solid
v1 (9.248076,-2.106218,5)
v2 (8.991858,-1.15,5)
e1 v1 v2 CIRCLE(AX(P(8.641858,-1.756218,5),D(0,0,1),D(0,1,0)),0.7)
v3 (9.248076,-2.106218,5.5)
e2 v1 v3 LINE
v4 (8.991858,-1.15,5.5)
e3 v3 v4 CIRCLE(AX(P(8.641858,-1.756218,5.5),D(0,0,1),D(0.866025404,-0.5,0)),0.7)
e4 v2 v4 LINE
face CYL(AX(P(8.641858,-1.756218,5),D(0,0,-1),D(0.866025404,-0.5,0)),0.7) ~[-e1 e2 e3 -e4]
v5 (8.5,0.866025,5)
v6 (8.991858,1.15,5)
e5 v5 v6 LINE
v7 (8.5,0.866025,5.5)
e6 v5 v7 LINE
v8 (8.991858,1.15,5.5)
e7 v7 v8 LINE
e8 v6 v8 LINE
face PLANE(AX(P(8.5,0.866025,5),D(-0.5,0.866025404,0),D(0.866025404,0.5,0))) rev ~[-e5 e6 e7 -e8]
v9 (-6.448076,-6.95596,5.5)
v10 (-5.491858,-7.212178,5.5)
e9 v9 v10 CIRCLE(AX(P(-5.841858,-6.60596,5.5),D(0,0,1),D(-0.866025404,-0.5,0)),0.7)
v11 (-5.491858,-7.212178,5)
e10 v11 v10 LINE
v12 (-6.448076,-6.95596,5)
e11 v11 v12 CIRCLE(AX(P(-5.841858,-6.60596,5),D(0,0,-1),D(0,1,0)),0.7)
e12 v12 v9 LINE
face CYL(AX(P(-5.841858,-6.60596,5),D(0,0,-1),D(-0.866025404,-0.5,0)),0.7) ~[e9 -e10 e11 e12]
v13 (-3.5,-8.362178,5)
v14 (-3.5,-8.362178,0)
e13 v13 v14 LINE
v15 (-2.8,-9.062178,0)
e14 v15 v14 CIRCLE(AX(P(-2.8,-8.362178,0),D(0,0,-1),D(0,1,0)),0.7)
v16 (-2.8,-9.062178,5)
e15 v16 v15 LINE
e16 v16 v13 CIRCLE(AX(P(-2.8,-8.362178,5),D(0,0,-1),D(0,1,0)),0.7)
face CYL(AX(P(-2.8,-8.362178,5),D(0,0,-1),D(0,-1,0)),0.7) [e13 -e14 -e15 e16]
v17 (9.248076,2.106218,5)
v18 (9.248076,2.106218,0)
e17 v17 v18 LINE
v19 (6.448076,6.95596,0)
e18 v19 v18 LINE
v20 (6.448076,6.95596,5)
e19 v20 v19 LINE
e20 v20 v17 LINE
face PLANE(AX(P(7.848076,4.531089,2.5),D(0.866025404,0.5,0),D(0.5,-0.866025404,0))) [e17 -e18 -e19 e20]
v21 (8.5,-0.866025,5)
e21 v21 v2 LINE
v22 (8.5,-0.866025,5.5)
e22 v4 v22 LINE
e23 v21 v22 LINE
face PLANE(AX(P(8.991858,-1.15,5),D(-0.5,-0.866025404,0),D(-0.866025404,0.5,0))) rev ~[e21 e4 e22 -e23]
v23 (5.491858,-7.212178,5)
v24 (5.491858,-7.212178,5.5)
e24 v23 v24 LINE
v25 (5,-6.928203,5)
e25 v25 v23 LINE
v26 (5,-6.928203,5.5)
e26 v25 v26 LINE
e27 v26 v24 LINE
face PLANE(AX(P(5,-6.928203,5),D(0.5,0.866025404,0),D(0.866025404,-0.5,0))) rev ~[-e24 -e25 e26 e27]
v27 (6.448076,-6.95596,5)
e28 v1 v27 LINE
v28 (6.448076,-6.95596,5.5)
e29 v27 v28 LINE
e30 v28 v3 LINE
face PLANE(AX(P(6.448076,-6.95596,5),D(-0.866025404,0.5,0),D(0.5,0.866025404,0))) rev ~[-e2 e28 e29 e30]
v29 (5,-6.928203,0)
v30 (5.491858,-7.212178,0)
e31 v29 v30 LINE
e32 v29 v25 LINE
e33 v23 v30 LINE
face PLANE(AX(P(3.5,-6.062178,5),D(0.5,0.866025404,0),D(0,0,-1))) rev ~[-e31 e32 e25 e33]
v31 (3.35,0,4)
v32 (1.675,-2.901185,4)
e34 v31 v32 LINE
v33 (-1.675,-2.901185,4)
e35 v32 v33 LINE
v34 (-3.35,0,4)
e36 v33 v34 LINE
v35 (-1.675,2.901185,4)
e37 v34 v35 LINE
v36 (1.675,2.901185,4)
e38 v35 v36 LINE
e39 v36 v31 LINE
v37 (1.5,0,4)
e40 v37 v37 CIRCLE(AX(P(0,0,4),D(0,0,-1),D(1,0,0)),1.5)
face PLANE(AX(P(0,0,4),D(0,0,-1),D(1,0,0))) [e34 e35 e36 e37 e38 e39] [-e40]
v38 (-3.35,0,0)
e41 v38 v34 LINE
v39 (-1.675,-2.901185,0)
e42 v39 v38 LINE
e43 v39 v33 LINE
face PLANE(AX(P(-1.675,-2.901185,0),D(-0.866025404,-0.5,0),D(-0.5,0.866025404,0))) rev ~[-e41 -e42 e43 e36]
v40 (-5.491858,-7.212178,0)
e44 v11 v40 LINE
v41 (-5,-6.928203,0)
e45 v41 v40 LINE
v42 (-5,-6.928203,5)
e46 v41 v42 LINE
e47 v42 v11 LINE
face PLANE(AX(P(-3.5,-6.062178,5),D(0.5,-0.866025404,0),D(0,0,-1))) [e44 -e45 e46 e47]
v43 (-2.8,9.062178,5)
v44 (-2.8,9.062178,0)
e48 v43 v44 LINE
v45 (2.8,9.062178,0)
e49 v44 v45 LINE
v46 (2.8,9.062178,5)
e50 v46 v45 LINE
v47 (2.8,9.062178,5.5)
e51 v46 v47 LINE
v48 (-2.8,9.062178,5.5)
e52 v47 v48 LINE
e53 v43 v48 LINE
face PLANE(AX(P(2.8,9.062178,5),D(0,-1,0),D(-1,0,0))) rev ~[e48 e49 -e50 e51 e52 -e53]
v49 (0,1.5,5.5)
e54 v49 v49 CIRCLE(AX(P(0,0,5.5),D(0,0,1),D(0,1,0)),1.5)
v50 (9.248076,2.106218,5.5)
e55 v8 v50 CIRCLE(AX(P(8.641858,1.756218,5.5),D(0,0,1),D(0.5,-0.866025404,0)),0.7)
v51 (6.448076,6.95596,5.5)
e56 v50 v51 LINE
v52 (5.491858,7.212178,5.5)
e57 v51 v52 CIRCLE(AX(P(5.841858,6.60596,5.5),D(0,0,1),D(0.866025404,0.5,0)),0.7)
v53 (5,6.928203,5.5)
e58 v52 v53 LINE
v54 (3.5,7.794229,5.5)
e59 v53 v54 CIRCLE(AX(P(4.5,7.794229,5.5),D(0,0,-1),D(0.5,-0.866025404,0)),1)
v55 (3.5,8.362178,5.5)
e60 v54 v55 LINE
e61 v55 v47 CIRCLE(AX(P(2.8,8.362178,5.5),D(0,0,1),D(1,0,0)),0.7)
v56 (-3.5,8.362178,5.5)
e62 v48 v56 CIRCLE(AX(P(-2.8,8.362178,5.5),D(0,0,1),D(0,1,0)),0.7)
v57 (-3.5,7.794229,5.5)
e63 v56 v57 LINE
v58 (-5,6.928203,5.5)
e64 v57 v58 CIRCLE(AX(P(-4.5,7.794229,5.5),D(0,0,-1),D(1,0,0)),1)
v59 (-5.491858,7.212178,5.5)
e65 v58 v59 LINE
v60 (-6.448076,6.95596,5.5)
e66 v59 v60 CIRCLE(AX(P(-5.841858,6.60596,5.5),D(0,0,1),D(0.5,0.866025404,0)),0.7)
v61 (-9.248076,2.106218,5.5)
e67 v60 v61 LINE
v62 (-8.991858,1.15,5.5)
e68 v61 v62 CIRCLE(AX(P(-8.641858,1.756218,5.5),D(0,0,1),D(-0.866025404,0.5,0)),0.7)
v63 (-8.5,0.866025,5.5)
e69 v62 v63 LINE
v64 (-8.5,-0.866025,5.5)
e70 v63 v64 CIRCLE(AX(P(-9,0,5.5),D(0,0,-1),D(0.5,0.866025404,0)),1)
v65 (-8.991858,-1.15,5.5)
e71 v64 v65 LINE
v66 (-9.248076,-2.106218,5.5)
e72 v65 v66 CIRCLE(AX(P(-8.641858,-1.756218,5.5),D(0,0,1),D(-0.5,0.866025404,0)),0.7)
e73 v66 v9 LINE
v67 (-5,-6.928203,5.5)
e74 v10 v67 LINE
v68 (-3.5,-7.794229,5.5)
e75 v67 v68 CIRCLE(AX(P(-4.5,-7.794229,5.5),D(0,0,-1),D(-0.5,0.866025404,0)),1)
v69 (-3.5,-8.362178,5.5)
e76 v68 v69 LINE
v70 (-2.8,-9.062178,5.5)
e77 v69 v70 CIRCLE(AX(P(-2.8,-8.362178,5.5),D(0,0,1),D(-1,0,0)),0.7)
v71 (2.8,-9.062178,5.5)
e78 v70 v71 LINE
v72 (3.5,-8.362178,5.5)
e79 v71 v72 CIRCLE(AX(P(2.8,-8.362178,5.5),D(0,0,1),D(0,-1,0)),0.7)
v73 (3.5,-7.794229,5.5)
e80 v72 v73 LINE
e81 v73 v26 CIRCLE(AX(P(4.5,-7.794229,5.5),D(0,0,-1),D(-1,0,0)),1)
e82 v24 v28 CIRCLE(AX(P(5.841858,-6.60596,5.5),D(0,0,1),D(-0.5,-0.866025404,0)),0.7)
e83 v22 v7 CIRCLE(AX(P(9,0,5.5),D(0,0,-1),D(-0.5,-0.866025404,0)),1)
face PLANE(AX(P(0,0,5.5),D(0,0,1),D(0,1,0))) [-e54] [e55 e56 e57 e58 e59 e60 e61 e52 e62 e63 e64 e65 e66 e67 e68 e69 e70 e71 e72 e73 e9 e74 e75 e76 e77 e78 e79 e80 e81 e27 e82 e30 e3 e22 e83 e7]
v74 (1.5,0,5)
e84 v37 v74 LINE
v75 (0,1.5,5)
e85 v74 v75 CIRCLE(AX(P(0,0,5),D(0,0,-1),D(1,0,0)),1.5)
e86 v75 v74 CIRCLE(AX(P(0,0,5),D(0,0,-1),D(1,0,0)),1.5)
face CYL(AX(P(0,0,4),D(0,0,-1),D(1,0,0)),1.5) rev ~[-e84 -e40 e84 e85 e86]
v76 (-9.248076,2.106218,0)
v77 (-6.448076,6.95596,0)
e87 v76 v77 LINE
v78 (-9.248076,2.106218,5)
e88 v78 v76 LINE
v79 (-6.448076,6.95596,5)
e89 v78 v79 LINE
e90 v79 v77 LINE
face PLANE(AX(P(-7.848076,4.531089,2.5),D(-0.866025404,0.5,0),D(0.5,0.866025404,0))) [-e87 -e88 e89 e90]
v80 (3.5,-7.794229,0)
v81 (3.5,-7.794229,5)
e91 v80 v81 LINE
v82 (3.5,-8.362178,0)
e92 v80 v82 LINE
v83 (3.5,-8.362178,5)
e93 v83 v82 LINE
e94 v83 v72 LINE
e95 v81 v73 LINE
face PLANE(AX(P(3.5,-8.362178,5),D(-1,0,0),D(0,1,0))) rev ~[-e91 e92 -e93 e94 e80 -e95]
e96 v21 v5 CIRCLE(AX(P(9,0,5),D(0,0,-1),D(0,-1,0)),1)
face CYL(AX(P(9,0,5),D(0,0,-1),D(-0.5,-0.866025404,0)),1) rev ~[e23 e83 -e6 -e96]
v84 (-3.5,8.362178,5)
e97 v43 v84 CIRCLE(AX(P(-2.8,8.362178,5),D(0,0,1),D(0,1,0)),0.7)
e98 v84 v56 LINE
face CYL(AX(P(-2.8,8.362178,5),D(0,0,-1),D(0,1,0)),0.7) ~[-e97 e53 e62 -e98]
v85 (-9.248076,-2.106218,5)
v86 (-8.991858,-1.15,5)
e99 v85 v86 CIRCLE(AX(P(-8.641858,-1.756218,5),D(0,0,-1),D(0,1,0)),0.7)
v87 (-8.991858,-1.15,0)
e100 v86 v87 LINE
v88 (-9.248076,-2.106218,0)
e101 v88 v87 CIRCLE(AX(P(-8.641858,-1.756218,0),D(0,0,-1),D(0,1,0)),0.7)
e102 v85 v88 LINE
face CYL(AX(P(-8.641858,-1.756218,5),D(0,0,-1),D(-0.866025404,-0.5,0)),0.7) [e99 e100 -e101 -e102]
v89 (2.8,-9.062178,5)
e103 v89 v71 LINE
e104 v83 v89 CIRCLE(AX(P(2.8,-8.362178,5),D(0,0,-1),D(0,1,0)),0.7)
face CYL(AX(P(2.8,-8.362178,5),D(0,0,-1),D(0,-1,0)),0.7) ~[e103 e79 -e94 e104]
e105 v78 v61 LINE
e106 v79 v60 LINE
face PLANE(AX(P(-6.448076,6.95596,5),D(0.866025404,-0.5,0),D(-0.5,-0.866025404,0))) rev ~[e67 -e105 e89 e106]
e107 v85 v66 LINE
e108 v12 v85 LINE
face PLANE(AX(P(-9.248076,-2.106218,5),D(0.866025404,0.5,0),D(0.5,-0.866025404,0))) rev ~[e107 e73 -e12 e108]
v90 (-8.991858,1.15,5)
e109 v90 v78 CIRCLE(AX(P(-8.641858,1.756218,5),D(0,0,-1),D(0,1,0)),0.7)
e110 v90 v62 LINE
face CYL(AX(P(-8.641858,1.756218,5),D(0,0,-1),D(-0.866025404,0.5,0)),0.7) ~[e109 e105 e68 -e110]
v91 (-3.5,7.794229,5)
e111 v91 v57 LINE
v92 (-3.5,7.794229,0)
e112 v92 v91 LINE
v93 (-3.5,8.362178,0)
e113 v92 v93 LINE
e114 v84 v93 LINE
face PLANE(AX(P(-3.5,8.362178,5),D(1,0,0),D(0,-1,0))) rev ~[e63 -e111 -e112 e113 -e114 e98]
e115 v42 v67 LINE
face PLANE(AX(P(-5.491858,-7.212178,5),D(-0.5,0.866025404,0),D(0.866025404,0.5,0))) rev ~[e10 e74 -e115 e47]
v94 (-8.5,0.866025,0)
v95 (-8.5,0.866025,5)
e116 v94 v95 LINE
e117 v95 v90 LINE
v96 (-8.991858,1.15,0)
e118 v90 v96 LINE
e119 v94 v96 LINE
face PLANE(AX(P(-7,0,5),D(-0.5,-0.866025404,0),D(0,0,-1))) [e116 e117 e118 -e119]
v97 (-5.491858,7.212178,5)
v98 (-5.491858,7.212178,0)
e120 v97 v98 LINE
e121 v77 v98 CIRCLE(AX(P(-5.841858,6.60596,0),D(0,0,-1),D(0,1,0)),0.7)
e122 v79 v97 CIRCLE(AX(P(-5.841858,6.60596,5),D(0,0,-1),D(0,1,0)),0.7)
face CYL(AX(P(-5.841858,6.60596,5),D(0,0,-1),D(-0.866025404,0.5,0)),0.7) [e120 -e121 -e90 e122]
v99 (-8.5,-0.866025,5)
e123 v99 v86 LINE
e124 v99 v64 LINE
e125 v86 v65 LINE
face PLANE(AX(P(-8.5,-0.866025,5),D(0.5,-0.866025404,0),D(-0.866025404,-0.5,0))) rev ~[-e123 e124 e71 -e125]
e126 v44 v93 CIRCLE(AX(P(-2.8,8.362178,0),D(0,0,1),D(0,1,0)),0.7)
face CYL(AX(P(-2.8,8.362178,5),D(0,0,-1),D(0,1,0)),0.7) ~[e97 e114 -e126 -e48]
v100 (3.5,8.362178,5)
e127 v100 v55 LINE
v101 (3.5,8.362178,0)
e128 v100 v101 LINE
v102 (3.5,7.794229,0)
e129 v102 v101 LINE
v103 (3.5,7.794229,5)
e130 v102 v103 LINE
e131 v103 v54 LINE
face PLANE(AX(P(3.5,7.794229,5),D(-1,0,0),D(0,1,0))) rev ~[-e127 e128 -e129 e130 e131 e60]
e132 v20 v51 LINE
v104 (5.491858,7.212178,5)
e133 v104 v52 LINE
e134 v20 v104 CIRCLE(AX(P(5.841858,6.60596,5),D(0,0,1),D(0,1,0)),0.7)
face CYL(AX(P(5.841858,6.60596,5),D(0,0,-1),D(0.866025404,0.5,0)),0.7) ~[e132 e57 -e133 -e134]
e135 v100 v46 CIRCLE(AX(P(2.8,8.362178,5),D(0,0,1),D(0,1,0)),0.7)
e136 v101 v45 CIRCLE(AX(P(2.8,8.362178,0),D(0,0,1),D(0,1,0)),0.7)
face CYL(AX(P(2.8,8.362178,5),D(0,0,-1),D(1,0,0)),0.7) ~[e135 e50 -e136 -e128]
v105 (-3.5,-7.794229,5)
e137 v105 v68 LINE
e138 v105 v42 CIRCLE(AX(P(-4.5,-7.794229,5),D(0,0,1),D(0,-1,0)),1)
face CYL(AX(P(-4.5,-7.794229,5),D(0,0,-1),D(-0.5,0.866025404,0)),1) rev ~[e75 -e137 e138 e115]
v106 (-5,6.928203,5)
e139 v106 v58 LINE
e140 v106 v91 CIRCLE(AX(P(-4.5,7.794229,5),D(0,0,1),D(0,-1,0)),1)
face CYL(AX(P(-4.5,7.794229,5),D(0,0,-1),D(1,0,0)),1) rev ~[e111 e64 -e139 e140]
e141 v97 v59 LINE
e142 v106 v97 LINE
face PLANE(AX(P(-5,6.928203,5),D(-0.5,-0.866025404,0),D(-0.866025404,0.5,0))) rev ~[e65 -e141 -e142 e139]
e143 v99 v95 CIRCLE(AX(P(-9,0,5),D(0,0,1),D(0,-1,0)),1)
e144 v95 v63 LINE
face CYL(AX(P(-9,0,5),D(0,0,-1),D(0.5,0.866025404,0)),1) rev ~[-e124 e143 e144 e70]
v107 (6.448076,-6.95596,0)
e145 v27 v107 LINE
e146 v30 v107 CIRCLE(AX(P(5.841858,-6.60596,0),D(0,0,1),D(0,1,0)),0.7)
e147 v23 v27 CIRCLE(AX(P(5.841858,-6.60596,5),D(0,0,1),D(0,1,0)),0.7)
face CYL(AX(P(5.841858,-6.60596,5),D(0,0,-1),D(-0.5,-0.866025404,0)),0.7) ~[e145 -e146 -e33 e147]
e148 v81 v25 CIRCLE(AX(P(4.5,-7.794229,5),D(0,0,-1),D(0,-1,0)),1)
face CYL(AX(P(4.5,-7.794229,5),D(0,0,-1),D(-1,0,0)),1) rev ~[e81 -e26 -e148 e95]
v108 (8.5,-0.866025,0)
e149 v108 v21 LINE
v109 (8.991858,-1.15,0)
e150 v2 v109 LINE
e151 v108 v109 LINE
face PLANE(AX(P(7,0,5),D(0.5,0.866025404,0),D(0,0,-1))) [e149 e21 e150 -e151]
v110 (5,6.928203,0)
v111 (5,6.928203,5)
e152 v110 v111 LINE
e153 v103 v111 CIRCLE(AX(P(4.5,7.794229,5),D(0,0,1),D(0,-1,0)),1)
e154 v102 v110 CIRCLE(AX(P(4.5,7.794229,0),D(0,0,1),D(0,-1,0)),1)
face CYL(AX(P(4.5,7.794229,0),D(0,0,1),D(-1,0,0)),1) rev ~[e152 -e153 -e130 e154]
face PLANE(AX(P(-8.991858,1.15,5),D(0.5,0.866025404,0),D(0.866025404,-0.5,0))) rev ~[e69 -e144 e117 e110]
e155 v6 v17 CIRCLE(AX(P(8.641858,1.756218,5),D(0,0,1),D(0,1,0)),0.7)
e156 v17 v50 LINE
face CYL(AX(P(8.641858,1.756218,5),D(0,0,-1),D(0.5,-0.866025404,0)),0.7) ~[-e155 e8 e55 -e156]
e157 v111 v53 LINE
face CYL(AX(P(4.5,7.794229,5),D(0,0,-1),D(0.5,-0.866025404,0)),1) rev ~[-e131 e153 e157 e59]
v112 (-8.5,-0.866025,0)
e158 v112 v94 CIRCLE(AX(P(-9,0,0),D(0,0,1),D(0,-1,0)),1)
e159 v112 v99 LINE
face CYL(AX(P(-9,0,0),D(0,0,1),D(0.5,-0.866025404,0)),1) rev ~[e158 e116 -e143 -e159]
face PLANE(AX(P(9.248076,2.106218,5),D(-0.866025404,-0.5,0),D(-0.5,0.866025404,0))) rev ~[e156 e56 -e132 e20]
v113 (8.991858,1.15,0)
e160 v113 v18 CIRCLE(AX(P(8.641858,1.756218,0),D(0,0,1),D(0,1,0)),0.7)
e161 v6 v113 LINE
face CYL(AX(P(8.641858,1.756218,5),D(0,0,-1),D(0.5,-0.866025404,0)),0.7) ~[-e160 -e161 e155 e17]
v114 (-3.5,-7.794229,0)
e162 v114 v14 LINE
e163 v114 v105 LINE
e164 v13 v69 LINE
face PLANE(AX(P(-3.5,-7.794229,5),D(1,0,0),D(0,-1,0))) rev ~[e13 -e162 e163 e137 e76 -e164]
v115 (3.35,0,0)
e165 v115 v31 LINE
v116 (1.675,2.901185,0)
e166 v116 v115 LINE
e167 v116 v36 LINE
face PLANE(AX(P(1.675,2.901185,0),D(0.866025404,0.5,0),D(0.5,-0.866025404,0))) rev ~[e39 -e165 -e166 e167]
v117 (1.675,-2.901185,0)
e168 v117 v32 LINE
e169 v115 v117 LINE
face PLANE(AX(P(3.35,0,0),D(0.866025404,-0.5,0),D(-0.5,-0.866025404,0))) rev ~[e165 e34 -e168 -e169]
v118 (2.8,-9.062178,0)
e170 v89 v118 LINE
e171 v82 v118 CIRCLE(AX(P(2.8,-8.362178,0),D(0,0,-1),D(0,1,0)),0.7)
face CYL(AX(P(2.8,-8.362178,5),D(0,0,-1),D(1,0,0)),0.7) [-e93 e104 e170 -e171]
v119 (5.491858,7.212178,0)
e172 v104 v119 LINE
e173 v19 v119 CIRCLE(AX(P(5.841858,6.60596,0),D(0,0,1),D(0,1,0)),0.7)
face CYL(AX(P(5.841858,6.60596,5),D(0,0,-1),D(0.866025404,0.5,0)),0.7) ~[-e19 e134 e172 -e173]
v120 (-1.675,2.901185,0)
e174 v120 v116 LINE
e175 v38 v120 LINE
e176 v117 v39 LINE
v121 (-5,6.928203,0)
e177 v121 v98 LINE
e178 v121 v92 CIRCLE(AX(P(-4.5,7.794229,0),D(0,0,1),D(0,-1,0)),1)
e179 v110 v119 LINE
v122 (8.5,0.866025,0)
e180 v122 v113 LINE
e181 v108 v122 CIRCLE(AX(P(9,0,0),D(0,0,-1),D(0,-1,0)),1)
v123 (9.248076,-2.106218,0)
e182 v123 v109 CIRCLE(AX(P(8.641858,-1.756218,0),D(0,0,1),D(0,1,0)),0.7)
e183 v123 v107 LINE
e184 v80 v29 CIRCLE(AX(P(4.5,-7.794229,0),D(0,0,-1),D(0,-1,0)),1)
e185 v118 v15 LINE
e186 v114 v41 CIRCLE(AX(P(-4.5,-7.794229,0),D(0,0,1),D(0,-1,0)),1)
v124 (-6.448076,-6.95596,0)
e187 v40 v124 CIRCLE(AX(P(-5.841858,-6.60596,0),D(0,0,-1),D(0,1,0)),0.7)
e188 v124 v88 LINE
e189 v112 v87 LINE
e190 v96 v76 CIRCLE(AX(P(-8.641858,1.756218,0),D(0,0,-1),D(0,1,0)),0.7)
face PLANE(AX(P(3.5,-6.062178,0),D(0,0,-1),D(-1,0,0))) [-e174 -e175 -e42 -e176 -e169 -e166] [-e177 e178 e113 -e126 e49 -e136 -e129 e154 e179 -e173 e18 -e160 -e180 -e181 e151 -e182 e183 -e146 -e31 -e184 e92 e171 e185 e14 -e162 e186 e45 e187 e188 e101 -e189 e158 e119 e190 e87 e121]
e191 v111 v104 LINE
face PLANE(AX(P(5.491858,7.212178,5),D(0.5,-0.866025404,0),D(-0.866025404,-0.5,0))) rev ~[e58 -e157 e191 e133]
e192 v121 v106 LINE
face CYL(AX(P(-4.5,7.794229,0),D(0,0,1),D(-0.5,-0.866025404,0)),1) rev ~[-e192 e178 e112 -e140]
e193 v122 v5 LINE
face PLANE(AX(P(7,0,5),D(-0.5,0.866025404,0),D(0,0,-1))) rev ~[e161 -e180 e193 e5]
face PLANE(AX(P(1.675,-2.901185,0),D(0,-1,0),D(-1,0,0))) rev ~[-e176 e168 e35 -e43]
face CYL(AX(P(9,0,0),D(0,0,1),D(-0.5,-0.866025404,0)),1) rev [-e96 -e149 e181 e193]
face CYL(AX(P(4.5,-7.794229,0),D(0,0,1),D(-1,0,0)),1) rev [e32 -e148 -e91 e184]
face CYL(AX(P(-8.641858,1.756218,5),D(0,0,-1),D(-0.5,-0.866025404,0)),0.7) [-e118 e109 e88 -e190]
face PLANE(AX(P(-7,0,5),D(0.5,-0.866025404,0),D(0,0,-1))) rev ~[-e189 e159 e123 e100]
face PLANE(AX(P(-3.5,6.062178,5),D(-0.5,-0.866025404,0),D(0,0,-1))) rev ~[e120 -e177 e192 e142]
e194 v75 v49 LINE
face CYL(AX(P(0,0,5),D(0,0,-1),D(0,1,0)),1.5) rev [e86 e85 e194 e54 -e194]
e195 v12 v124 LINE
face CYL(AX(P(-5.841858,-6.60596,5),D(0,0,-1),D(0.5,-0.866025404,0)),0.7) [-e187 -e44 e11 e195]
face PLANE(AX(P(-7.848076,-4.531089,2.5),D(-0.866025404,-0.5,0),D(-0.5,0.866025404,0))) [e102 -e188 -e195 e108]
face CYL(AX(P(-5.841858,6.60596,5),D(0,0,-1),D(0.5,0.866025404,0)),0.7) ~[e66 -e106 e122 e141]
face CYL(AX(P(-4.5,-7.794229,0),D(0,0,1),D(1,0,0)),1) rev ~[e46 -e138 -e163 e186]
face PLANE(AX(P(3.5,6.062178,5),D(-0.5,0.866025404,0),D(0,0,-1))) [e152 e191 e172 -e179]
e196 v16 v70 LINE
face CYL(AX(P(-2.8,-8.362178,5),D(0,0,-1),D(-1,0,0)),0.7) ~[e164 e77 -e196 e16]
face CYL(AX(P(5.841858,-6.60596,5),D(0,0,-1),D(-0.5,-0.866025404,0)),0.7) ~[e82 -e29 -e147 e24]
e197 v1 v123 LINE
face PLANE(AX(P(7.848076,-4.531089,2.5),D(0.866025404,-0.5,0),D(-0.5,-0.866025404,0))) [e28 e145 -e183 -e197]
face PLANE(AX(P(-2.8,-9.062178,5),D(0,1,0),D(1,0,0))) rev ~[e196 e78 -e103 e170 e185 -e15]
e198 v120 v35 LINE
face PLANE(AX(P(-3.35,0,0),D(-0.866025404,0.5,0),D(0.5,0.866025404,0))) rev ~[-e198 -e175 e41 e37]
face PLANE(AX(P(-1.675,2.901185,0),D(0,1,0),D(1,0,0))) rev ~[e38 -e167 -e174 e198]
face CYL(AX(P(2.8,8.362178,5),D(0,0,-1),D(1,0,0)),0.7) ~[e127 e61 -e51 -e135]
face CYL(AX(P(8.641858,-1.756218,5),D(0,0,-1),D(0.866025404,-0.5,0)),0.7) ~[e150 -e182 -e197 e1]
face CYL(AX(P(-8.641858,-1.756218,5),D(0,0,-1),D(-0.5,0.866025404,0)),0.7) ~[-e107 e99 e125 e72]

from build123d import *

# Parameters (mm, degrees)
PAD_DEPTH         = 5
POCKET_DEPTH      = 4
POCKET_FACE1_W    = 7
POCKET_FACE1_H    = 5
PAD001_DEPTH      = 3
PAD001_FACE6_W    = 7
PAD001_FACE6_H    = 5
PAD002_DEPTH      = 3
PAD002_FACE6_W    = 7
PAD002_FACE6_H    = 5
PAD003_DEPTH      = 3
PAD003_FACE1_W    = 7
PAD003_FACE1_H    = 5
PAD004_DEPTH      = 3
PAD004_FACE1_W    = 7
PAD004_FACE1_H    = 5
PAD005_DEPTH      = 3
PAD005_FACE1_W    = 7
PAD005_FACE1_H    = 5
PAD006_DEPTH      = 3
FILLET_R          = 1
FILLET001_R       = 0.7
SKETCH002_R       = 1.5
POCKET001_DEPTH   = 5
POCKET001_FACE5_R = 1.5
PAD007_DEPTH      = 0.5


with BuildPart() as part:
    # Sketch → Pad (new body)
    with BuildSketch(Plane.XY):
        Polygon((7, 0), (3.5, 6.0621778265), (-3.5, 6.0621778265), (-7, 0), (-3.5, -6.0621778265), (3.5, -6.0621778265), align=None)
    extrude(amount=PAD_DEPTH)

    # Sketch001 (on Face7 of Pad) → Pocket (cut)
    with BuildSketch(Plane(origin=(0, 0, 0), x_dir=(1, 0, 0), z_dir=(0, 0, -1))):
        Polygon((3.35, 0), (1.675, 2.9011851027), (-1.675, 2.9011851027), (-3.35, 0), (-1.675, -2.9011851027), (1.675, -2.9011851027), align=None)
    extrude(amount=-POCKET_DEPTH, mode=Mode.SUBTRACT)

    # Pocket Face1 → Pad001 (add)
    with BuildSketch(Plane(origin=(5.25, 3.0310889132, 2.5), x_dir=(0.5, -0.8660254038, 0), z_dir=(0.8660254038, 0.5, 0))):
        Rectangle(POCKET_FACE1_W, POCKET_FACE1_H)
    extrude(amount=PAD001_DEPTH)

    # Pad001 Face6 → Pad002 (add)
    with BuildSketch(Plane(origin=(-5.25, -3.0310889132, 2.5), x_dir=(-0.5, 0.8660254038, 0), z_dir=(-0.8660254038, -0.5, 0))):
        Rectangle(PAD001_FACE6_W, PAD001_FACE6_H)
    extrude(amount=PAD002_DEPTH)

    # Pad002 Face6 → Pad003 (add)
    with BuildSketch(Plane(origin=(-5.25, 3.0310889132, 2.5), x_dir=(0.5, 0.8660254038, 0), z_dir=(-0.8660254038, 0.5, 0))):
        Rectangle(PAD002_FACE6_W, PAD002_FACE6_H)
    extrude(amount=PAD003_DEPTH)

    # Pad003 Face1 → Pad004 (add)
    with BuildSketch(Plane(origin=(0, 6.0621778265, 2.5), x_dir=(1, 0, 0), z_dir=(0, 1, 0))):
        Rectangle(PAD003_FACE1_W, PAD003_FACE1_H)
    extrude(amount=PAD004_DEPTH)

    # Pad004 Face1 → Pad005 (add)
    with BuildSketch(Plane(origin=(5.25, -3.0310889132, 2.5), x_dir=(-0.5, -0.8660254038, 0), z_dir=(0.8660254038, -0.5, 0))):
        Rectangle(PAD004_FACE1_W, PAD004_FACE1_H)
    extrude(amount=PAD005_DEPTH)

    # Pad005 Face1 → Pad006 (add)
    with BuildSketch(Plane(origin=(0, -6.0621778265, 2.5), x_dir=(-1, 0, 0), z_dir=(0, -1, 0))):
        Rectangle(PAD005_FACE1_W, PAD005_FACE1_H)
    extrude(amount=PAD006_DEPTH)

    # Fillet
    fillet_edges = [part.edges().sort_by_distance(p)[0] for p in [
        (3.5, -6.062178, 2.5),
        (-3.5, -6.062178, 2.5),
        (-7, 0, 2.5),
        (-3.5, 6.062178, 2.5),
        (3.5, 6.062178, 2.5),
        (7, 0, 2.5),
    ]]
    fillet(fillet_edges, radius=FILLET_R)

    # Fillet001
    fillet001_edges = [part.edges().sort_by_distance(p)[0] for p in [
        (-6.098076, -7.562178, 2.5),
        (-9.598076, -1.5, 2.5),
        (-9.598076, 1.5, 2.5),
        (-6.098076, 7.562178, 2.5),
        (-3.5, 9.062178, 2.5),
        (3.5, 9.062178, 2.5),
        (6.098076, 7.562178, 2.5),
        (9.598076, 1.5, 2.5),
        (9.598076, -1.5, 2.5),
        (6.098076, -7.562178, 2.5),
        (3.5, -9.062178, 2.5),
        (-3.5, -9.062178, 2.5),
    ]]
    fillet(fillet001_edges, radius=FILLET001_R)

    # Sketch002 (on Face45 of Fillet001) → Pocket001 (cut)
    with BuildSketch(Plane(origin=(0, 0, 4), x_dir=(1, 0, 0), z_dir=(0, 0, -1))):
        Circle(SKETCH002_R)
    extrude(amount=-POCKET001_DEPTH, mode=Mode.SUBTRACT)

    # Pocket001 Face5 → Pad007 (add)
    with BuildSketch(Plane(origin=(0, 0, 5), x_dir=(0, 1, 0), z_dir=(0, 0, 1))):
        with BuildLine():
            Line((6.9282032303, 5), (7.2121778265, 5.4918584287))
            ThreePointArc((7.2121778265, 5.4918584287), (7.2821081222, 6.0230317603), (6.9559600438, 6.4480762114))
            Line((6.9559600438, 6.4480762114), (2.1062177826, 9.2480762114))
            ThreePointArc((2.1062177826, 9.2480762114), (1.5750444511, 9.3180065071), (1.15, 8.9918584287))
            Line((1.15, 8.9918584287), (0.8660254038, 8.5))
            ThreePointArc((0.8660254038, 8.5), (0, 8), (-0.8660254038, 8.5))
            Line((-0.8660254038, 8.5), (-1.15, 8.9918584287))
            ThreePointArc((-1.15, 8.9918584287), (-1.5750444511, 9.3180065071), (-2.1062177826, 9.2480762114))
            Line((-2.1062177826, 9.2480762114), (-6.9559600438, 6.4480762114))
            ThreePointArc((-6.9559600438, 6.4480762114), (-7.2821081222, 6.0230317603), (-7.2121778265, 5.4918584287))
            Line((-7.2121778265, 5.4918584287), (-6.9282032303, 5))
            ThreePointArc((-6.9282032303, 5), (-6.9282032303, 4), (-7.7942286341, 3.5))
            Line((-7.7942286341, 3.5), (-8.3621778265, 3.5))
            ThreePointArc((-8.3621778265, 3.5), (-8.8571525733, 3.2949747468), (-9.0621778265, 2.8))
            Line((-9.0621778265, 2.8), (-9.0621778265, -2.8))
            ThreePointArc((-9.0621778265, -2.8), (-8.8571525733, -3.2949747468), (-8.3621778265, -3.5))
            Line((-8.3621778265, -3.5), (-7.7942286341, -3.5))
            ThreePointArc((-7.7942286341, -3.5), (-6.9282032303, -4), (-6.9282032303, -5))
            Line((-6.9282032303, -5), (-7.2121778265, -5.4918584287))
            ThreePointArc((-7.2121778265, -5.4918584287), (-7.2821081222, -6.0230317603), (-6.9559600438, -6.4480762114))
            Line((-6.9559600438, -6.4480762114), (-2.1062177826, -9.2480762114))
            ThreePointArc((-2.1062177826, -9.2480762114), (-1.5750444511, -9.3180065071), (-1.15, -8.9918584287))
            Line((-1.15, -8.9918584287), (-0.8660254038, -8.5))
            ThreePointArc((-0.8660254038, -8.5), (0, -8), (0.8660254038, -8.5))
            Line((0.8660254038, -8.5), (1.15, -8.9918584287))
            ThreePointArc((1.15, -8.9918584287), (1.5750444511, -9.3180065071), (2.1062177826, -9.2480762114))
            Line((2.1062177826, -9.2480762114), (6.9559600438, -6.4480762114))
            ThreePointArc((6.9559600438, -6.4480762114), (7.2821081222, -6.0230317603), (7.2121778265, -5.4918584287))
            Line((7.2121778265, -5.4918584287), (6.9282032303, -5))
            ThreePointArc((6.9282032303, -5), (6.9282032303, -4), (7.7942286341, -3.5))
            Line((7.7942286341, -3.5), (8.3621778265, -3.5))
            ThreePointArc((8.3621778265, -3.5), (8.8571525733, -3.2949747468), (9.0621778265, -2.8))
            Line((9.0621778265, -2.8), (9.0621778265, 2.8))
            ThreePointArc((9.0621778265, 2.8), (8.8571525733, 3.2949747468), (8.3621778265, 3.5))
            Line((8.3621778265, 3.5), (7.7942286341, 3.5))
            ThreePointArc((7.7942286341, 3.5), (6.9282032303, 4), (6.9282032303, 5))
        make_face()
        Circle(POCKET001_FACE5_R, mode=Mode.SUBTRACT)
    extrude(amount=PAD007_DEPTH)


solid = part.part
